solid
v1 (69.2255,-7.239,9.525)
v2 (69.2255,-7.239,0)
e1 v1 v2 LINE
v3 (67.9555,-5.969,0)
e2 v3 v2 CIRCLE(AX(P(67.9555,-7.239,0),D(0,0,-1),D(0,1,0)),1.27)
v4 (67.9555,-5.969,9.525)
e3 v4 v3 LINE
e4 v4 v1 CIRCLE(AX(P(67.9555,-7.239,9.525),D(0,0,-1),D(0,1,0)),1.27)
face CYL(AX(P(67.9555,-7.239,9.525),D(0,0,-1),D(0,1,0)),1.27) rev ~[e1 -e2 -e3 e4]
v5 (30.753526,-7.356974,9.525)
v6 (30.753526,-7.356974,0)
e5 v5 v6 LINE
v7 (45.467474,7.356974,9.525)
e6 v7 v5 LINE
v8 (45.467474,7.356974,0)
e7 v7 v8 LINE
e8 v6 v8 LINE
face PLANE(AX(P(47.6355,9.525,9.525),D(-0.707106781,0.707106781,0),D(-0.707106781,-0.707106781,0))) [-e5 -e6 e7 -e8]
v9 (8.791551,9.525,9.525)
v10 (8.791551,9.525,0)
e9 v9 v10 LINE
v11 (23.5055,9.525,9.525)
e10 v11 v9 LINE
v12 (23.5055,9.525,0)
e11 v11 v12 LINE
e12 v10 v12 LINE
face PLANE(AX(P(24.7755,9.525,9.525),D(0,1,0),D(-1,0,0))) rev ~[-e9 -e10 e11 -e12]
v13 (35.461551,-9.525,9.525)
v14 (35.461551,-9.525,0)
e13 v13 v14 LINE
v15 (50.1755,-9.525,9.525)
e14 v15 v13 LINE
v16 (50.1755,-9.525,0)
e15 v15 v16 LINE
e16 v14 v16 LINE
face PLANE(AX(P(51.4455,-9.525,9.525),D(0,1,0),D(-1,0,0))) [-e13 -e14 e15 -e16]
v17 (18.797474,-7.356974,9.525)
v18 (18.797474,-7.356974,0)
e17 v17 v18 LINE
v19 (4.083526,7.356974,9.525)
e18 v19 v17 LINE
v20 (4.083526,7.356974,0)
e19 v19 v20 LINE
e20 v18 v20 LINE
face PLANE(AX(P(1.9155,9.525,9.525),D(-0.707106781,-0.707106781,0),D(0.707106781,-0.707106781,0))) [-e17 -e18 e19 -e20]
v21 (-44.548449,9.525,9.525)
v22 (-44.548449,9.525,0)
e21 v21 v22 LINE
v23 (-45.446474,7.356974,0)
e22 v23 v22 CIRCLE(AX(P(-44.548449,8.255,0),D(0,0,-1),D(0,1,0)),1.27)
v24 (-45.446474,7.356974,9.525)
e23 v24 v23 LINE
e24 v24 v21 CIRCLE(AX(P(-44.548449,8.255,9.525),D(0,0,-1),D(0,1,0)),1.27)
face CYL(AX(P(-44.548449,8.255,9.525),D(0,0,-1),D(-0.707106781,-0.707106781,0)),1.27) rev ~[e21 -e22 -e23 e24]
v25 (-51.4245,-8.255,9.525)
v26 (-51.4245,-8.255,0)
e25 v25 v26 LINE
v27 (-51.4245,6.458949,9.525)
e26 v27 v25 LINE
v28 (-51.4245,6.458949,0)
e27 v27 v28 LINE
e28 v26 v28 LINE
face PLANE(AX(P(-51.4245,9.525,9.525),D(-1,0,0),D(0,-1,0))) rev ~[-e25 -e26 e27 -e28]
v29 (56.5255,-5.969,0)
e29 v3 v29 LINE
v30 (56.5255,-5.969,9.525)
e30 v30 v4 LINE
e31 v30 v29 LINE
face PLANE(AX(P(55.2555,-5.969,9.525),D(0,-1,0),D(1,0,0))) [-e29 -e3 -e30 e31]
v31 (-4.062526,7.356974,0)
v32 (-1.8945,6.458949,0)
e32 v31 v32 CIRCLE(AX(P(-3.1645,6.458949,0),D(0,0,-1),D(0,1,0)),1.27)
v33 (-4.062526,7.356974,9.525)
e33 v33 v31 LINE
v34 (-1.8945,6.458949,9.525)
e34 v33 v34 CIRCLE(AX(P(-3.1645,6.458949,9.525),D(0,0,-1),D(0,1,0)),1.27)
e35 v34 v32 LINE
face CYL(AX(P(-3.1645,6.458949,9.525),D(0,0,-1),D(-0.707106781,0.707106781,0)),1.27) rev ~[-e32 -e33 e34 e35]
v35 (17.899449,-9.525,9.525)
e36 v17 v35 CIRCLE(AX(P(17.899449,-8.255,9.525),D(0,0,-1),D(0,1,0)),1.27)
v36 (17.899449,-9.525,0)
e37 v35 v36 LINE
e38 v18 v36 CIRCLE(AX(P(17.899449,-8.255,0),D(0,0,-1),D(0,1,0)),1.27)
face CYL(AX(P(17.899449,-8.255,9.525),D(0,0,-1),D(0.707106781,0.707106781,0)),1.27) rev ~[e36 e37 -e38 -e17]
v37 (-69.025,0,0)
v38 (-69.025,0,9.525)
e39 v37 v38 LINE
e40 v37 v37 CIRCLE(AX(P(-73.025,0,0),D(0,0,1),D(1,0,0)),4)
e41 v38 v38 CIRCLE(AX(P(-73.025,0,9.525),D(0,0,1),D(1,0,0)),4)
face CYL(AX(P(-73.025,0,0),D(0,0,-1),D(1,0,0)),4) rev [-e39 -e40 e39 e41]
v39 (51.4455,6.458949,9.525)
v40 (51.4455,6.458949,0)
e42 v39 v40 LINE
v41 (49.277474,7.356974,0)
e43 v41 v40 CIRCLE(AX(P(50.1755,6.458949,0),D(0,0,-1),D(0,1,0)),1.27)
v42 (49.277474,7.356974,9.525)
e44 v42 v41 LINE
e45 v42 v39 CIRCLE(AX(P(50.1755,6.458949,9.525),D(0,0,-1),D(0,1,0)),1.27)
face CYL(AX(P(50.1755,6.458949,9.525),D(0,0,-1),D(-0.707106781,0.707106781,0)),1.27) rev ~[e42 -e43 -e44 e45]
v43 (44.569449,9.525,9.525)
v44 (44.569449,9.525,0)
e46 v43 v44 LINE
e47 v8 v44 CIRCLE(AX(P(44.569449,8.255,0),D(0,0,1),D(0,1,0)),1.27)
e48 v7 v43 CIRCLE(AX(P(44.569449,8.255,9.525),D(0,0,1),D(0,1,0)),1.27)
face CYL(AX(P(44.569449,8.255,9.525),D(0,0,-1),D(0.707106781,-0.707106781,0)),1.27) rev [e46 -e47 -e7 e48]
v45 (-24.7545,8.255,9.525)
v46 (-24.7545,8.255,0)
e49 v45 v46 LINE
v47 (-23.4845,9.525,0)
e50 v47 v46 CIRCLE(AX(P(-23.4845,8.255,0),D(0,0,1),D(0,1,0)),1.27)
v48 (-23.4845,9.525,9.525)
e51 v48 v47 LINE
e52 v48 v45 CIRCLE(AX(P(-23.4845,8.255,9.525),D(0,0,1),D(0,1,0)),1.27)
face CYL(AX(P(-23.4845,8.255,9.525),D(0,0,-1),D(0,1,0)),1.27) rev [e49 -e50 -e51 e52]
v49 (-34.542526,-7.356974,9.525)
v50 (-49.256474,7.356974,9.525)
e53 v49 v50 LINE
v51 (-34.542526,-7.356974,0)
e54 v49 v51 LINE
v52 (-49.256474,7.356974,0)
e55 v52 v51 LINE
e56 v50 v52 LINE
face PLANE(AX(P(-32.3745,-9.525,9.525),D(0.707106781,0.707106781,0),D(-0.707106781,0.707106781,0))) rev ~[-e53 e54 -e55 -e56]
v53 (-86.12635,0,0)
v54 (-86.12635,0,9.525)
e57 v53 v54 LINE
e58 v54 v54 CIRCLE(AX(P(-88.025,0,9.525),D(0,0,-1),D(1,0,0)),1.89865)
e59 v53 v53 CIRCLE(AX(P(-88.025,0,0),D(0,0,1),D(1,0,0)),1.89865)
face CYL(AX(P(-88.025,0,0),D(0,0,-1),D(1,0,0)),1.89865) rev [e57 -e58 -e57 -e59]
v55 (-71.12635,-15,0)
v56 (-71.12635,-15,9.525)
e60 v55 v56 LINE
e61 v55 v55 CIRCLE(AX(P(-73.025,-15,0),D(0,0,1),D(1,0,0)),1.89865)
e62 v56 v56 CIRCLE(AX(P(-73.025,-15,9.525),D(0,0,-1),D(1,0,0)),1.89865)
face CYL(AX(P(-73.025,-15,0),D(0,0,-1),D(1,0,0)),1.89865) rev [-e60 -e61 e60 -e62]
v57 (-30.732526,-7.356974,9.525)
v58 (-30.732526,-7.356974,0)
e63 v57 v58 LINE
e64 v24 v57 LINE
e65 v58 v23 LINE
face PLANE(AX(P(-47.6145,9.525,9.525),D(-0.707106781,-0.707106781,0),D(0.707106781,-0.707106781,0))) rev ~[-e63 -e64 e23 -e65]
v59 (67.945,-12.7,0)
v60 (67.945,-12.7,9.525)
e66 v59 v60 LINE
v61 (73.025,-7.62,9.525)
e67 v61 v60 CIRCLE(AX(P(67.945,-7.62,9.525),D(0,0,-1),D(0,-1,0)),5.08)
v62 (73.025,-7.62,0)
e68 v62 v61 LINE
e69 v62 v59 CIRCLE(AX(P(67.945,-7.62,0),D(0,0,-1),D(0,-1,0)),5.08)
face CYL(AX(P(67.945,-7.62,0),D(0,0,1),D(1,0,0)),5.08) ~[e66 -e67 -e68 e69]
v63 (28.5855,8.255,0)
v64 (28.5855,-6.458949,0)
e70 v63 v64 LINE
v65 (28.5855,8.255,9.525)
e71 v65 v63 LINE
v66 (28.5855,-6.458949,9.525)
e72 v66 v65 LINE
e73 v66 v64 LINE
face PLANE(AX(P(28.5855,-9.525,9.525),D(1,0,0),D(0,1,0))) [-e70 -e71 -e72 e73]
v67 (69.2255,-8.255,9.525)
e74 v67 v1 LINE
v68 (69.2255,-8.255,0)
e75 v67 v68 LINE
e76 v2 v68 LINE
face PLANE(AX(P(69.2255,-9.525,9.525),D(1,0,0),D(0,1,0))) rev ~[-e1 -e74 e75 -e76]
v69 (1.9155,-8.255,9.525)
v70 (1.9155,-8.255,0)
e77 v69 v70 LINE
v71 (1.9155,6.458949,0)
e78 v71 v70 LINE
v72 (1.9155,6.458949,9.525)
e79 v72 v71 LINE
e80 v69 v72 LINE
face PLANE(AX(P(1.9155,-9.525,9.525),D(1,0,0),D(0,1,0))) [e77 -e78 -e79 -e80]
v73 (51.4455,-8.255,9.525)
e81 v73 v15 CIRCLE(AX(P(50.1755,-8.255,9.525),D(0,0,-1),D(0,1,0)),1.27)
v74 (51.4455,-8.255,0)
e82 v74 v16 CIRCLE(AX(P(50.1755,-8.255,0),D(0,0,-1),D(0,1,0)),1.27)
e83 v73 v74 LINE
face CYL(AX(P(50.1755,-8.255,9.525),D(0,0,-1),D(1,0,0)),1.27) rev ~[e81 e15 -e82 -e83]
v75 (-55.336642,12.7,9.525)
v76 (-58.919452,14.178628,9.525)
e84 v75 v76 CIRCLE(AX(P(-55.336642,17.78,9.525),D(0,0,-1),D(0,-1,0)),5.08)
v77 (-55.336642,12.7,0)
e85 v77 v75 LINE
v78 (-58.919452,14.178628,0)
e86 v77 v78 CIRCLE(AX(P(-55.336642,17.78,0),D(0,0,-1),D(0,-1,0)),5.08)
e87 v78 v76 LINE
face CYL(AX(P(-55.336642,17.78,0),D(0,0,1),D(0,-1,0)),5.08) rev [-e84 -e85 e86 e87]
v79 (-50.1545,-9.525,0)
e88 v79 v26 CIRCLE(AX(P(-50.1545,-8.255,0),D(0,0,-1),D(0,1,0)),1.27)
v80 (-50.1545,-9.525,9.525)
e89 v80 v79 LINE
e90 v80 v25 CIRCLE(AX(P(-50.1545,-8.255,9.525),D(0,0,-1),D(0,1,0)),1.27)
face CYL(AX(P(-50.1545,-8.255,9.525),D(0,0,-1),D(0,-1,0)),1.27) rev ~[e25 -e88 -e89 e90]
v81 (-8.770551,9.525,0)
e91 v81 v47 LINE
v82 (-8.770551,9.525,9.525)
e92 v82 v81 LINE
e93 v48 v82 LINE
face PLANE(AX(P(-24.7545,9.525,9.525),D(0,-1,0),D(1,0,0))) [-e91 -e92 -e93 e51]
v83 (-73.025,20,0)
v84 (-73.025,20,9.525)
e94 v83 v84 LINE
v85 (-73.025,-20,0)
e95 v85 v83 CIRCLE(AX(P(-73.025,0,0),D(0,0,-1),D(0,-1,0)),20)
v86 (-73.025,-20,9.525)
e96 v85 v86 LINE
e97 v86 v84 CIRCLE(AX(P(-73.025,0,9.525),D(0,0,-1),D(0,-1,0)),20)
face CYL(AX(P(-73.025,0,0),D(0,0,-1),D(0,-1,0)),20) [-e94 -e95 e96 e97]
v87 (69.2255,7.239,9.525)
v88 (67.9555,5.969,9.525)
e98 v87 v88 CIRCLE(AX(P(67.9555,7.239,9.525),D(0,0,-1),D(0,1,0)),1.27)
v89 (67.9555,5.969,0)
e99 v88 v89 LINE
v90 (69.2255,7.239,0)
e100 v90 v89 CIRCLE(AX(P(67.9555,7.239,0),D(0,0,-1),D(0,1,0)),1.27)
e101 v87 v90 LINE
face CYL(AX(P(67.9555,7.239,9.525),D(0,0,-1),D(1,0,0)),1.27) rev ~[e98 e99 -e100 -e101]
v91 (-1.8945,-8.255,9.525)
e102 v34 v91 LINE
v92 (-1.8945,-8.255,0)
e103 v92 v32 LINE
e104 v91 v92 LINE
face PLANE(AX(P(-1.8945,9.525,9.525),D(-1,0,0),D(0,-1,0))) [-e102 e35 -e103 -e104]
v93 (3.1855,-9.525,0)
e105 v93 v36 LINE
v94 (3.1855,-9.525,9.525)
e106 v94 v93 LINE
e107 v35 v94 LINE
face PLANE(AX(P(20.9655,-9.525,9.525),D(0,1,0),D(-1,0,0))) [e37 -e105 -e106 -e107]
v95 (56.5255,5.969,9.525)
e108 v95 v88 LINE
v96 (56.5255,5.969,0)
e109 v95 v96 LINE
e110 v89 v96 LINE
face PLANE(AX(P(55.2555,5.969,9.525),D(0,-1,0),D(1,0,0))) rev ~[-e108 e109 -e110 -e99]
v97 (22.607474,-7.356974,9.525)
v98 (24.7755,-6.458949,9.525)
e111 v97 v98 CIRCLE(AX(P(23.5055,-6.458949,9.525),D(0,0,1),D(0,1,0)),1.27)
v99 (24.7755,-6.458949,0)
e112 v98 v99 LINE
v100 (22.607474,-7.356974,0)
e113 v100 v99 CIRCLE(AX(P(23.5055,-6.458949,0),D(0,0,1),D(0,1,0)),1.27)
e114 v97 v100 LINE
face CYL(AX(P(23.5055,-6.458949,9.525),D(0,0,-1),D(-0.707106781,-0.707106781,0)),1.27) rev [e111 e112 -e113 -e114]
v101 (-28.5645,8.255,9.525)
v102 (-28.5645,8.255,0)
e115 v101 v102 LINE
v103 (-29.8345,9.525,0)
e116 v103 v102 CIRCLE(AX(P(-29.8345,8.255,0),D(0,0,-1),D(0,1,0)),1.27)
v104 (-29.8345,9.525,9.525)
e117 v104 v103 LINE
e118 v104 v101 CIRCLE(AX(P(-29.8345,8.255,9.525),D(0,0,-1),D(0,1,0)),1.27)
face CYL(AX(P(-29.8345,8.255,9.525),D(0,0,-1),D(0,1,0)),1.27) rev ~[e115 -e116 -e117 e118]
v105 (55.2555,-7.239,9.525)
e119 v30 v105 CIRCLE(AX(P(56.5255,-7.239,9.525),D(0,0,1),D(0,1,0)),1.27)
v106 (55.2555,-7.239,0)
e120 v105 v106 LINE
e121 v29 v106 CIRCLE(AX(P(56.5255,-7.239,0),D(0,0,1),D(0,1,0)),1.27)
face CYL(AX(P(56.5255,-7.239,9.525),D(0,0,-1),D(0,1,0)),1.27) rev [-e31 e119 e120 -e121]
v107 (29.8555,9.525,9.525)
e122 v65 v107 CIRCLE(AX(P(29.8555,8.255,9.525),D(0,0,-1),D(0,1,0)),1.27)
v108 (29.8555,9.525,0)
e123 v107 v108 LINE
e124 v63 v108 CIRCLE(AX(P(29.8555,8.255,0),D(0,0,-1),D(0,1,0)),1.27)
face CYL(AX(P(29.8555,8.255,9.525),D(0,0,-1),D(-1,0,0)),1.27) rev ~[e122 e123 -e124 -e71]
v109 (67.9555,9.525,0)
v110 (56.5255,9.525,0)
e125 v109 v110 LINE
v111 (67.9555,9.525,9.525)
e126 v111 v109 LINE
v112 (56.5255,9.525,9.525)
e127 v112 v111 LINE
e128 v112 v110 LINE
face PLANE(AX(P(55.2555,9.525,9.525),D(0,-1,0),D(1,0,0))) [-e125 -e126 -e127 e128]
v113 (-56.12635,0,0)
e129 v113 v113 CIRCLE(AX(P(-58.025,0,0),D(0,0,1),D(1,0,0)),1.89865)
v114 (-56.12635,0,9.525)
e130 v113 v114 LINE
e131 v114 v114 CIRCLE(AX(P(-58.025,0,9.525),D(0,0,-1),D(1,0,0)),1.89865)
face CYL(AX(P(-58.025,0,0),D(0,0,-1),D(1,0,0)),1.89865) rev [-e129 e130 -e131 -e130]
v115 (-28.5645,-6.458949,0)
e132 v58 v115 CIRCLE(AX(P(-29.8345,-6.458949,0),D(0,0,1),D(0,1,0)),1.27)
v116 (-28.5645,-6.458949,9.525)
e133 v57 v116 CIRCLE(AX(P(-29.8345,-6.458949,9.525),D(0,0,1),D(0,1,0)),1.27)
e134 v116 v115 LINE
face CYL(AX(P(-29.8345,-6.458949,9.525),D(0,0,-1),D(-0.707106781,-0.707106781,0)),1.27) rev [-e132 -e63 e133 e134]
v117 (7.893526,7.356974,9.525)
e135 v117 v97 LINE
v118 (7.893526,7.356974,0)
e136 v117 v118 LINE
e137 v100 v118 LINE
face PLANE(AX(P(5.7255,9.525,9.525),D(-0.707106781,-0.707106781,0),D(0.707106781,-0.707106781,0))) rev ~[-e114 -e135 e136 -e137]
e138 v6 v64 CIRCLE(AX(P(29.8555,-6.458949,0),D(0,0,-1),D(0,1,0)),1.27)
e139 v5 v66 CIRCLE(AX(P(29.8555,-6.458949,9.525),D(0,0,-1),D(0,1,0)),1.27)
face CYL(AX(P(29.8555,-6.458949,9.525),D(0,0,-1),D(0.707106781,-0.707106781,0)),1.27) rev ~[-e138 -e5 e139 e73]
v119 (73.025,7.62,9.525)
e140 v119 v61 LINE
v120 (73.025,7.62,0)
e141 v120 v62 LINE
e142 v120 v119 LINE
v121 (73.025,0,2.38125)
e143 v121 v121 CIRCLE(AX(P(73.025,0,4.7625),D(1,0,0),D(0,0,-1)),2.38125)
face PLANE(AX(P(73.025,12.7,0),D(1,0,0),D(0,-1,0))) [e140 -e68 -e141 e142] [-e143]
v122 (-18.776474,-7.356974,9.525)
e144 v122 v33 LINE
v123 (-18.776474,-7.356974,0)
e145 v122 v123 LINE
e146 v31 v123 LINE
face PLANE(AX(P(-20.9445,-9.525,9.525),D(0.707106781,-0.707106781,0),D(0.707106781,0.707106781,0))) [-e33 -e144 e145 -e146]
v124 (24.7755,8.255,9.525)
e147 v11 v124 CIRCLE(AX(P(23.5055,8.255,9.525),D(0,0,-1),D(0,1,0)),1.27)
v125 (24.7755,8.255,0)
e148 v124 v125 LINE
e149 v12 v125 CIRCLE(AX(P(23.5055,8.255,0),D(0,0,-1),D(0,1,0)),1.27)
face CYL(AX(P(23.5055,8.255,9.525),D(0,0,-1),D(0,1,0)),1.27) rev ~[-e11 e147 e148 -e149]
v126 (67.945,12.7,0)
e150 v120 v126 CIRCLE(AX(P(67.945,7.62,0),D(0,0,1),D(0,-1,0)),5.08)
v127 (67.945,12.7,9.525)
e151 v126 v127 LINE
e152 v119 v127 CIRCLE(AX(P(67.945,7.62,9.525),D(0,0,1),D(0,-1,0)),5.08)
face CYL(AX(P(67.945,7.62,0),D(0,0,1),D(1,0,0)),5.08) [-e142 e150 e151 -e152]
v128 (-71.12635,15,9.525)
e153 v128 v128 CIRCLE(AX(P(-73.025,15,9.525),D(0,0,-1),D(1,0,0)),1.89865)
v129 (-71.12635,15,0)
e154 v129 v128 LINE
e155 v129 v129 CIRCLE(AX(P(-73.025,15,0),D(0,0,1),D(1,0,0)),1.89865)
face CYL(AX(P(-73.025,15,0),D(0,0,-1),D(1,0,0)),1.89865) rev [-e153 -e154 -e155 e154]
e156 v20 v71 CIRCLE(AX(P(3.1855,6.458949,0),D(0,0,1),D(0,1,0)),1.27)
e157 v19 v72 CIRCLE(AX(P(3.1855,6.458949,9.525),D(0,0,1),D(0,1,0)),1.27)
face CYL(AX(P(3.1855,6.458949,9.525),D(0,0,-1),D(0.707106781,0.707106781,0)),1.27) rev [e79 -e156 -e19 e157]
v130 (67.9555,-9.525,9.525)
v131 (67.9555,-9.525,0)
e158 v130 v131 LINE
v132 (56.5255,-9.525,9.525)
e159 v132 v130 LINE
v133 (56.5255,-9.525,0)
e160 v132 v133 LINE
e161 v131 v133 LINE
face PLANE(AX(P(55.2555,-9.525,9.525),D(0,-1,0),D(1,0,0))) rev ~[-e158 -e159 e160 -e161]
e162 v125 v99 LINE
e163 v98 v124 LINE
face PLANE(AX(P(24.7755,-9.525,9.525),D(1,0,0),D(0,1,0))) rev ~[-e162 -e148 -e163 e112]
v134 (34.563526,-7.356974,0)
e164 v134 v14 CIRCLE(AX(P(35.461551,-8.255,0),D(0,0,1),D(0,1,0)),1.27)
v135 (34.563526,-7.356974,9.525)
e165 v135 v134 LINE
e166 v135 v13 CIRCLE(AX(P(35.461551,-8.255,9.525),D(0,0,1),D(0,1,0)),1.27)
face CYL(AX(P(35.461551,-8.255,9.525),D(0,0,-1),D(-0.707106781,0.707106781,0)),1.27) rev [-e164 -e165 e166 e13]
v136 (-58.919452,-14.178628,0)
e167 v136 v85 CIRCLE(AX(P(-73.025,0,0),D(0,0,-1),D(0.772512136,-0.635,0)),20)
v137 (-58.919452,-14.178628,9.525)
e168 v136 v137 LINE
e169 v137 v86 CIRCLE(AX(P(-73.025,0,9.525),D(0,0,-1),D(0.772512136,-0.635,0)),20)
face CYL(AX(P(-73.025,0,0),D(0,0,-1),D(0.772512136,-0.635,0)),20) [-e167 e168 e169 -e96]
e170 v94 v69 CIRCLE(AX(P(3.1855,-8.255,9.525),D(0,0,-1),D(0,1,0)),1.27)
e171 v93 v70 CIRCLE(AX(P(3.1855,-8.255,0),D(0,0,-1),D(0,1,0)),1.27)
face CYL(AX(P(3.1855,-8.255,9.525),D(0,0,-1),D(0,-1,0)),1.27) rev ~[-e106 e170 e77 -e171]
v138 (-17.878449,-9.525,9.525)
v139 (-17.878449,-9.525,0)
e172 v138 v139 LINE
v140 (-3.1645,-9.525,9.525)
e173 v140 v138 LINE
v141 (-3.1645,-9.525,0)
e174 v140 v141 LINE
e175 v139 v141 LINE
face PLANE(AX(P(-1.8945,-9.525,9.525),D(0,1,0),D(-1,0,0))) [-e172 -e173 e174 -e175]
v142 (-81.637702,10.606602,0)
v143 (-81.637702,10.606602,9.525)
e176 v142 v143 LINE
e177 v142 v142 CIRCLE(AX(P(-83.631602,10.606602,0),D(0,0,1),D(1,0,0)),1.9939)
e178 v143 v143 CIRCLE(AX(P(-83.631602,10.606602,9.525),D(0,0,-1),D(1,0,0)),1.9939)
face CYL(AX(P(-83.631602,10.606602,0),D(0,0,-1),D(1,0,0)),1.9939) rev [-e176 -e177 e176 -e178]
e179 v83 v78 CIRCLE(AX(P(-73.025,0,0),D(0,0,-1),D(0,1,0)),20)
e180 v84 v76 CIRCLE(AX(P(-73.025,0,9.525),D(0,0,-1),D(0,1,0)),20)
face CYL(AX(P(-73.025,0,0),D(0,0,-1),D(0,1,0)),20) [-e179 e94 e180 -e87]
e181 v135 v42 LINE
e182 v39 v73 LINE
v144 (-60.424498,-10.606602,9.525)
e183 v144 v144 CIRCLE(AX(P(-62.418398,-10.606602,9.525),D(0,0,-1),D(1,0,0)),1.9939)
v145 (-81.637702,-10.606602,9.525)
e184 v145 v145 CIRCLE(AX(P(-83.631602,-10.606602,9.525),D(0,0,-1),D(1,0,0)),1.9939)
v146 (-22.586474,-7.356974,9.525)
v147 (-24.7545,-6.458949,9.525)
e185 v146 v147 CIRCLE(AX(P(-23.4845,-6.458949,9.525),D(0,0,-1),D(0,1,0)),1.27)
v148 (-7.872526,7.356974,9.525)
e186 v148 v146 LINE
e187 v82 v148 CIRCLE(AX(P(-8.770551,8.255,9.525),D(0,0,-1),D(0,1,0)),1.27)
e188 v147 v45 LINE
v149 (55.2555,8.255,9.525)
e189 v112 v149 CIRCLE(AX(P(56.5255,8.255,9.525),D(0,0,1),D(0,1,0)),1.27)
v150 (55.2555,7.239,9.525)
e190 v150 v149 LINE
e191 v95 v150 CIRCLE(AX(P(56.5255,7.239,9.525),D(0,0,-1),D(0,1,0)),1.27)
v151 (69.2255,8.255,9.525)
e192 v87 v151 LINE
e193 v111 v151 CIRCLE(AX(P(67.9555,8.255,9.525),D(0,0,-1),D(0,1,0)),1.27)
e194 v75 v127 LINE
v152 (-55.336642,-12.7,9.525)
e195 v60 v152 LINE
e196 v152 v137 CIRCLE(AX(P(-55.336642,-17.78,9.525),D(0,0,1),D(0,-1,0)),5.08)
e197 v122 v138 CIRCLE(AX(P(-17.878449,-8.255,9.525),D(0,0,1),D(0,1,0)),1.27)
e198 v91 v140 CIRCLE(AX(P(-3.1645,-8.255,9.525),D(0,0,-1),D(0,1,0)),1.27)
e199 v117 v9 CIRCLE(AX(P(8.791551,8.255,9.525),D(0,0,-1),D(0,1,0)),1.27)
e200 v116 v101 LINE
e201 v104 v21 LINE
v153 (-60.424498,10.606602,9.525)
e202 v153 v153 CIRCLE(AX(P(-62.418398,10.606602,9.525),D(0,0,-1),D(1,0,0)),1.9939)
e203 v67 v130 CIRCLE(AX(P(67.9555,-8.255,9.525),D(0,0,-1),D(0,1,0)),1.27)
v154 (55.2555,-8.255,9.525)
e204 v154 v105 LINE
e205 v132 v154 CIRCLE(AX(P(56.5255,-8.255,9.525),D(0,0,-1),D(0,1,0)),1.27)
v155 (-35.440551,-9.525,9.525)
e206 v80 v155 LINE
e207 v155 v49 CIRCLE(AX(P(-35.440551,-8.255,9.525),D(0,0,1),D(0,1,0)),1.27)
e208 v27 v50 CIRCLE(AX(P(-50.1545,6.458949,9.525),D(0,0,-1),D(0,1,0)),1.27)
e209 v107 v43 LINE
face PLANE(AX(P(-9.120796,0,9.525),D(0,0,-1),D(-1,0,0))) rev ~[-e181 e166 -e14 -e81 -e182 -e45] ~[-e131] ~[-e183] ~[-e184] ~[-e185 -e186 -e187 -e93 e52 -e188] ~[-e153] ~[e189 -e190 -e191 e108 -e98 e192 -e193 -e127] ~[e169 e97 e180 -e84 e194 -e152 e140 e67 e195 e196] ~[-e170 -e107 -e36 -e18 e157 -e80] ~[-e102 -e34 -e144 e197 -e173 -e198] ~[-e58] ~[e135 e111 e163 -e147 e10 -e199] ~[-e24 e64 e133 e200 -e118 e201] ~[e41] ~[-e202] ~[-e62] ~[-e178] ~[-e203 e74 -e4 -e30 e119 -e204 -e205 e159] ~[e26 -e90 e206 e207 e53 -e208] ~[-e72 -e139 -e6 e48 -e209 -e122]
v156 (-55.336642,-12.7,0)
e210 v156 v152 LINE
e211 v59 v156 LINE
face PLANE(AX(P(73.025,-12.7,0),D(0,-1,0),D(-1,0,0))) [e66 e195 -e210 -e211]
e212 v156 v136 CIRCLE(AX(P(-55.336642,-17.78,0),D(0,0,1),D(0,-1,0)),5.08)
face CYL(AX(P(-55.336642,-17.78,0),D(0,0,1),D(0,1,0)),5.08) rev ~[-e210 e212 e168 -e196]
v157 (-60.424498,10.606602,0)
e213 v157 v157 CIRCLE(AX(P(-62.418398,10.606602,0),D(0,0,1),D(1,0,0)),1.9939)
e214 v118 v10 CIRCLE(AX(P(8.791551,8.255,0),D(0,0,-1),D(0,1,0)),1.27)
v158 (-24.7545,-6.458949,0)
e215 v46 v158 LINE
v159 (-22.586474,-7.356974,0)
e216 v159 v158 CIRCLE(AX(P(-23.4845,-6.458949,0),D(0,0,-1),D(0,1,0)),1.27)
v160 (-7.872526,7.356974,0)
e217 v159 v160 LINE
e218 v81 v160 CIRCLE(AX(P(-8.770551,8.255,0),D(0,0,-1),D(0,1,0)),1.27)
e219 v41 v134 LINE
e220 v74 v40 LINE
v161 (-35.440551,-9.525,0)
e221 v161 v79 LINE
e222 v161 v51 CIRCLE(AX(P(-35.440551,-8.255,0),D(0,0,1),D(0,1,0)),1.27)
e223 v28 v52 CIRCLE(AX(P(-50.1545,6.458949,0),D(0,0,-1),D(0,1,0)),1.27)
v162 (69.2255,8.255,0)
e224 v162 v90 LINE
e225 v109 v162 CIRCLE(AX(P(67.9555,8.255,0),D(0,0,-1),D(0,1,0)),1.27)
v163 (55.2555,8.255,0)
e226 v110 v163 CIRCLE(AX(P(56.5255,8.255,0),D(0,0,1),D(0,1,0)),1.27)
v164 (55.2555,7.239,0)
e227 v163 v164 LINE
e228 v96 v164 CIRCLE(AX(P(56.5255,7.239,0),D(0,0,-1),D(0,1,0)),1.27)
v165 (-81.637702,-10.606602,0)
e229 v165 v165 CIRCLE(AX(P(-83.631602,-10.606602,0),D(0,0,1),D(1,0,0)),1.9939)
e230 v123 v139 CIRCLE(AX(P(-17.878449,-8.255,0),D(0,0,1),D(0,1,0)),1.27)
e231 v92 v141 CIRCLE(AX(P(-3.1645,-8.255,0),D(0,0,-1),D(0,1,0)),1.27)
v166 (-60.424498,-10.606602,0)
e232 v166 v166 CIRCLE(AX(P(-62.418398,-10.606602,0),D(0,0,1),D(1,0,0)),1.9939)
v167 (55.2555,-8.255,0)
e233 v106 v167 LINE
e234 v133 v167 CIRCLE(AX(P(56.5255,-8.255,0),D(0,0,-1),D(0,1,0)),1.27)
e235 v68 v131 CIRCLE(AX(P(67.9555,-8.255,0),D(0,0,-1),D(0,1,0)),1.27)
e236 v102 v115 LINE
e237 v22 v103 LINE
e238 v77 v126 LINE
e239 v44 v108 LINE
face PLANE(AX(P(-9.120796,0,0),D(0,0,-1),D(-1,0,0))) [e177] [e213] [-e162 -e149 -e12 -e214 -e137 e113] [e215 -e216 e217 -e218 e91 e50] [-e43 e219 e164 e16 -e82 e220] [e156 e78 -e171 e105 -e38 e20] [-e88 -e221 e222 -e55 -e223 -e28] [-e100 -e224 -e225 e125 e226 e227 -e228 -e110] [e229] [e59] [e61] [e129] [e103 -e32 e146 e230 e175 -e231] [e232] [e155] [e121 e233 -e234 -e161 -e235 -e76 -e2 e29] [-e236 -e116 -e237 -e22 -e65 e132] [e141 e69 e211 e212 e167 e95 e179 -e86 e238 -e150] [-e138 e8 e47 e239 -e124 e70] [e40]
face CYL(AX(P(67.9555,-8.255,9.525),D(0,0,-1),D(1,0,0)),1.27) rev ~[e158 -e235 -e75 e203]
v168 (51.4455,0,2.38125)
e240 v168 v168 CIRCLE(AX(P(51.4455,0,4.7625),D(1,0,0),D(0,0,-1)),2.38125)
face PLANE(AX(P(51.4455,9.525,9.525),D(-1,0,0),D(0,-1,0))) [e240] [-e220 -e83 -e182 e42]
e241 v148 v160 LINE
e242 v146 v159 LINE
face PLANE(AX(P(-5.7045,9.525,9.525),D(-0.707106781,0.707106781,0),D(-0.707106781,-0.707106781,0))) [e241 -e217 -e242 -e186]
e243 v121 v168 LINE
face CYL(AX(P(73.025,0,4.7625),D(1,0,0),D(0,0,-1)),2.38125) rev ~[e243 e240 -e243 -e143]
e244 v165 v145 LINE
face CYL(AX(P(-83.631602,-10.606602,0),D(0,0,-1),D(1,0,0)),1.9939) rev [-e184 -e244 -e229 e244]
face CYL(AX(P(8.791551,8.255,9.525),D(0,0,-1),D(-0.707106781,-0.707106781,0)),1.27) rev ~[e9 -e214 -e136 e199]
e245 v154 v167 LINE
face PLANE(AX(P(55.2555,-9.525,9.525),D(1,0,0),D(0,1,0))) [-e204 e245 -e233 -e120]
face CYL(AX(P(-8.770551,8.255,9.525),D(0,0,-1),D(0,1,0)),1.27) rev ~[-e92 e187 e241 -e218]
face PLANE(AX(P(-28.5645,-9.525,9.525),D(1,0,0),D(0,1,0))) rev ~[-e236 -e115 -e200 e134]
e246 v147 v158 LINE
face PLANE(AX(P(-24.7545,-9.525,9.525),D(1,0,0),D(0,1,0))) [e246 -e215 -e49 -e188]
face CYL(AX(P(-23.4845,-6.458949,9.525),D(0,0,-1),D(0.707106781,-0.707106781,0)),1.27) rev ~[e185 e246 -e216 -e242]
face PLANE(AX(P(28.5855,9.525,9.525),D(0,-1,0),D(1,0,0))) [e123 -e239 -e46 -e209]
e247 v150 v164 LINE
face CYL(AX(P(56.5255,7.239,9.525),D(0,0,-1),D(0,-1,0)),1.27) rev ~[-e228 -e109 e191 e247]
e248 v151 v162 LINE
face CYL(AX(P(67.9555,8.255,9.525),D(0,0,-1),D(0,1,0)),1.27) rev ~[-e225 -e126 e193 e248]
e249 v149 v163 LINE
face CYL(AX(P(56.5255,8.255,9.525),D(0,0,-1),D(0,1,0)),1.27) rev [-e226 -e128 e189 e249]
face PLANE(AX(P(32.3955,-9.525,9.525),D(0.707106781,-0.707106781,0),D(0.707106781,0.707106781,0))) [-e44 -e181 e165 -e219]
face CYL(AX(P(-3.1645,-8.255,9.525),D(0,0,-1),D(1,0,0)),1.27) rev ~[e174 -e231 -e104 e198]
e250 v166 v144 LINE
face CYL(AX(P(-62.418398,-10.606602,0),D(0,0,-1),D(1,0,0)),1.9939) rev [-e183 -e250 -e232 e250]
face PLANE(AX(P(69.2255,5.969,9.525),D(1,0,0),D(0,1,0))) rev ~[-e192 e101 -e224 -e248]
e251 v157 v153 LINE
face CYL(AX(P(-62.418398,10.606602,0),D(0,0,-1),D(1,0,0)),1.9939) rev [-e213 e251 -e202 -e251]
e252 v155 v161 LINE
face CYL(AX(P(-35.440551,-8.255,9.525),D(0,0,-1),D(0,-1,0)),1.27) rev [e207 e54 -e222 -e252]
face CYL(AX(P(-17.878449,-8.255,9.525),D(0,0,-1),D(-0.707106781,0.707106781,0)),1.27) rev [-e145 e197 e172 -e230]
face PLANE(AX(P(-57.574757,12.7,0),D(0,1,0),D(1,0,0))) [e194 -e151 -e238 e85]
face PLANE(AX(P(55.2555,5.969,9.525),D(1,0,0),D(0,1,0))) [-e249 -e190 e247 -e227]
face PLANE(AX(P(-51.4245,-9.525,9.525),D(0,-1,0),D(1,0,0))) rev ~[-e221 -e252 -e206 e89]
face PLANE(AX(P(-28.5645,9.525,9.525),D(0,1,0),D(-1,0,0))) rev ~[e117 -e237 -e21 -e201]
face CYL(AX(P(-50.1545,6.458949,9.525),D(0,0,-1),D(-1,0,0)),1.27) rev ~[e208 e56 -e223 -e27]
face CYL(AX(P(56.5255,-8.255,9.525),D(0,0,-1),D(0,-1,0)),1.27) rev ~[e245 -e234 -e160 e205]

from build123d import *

# Parameters (mm, degrees)
SKETCH1_R           = 4
BOSS_EXTRUDE1_DEPTH = 9.525
SKETCH3_R           = 1.89865
SKETCH3_R_2         = 1.9939
CUT_EXTRUDE2_DEPTH  = 10.525
SKETCH19_W          = 13.97
SKETCH19_H          = 3.556
CUT_EXTRUDE4_DEPTH  = 10.525
CUT_EXTRUDE5_REACH  = 168.05
SKETCH20_R          = 2.38125
FILLET5_R           = 5.08
FILLET6_R           = 5.08
FILLET7_R           = 1.27


with BuildPart() as part:
    # Sketch1 → Boss-Extrude1 (new body)
    with BuildSketch(Plane.XY):
        with BuildLine():
            Line((73.025, 12.7), (73.025, -12.7))
            Line((73.025, -12.7), (-57.574757283, -12.7))
            ThreePointArc((-57.574757283, -12.7), (-64.480996255, -18.08314132), (-73.025, -20))
            ThreePointArc((-73.025, -20), (-93.025, 0), (-73.025, 20))
            ThreePointArc((-73.025, 20), (-64.480996255, 18.08314132), (-57.574757283, 12.7))
            Line((-57.574757283, 12.7), (73.025, 12.7))
        make_face()
        with Locations((-73.025, 0)):
            Circle(SKETCH1_R, mode=Mode.SUBTRACT)
    extrude(amount=BOSS_EXTRUDE1_DEPTH)

    # Sketch3 → Cut-Extrude2 (cut, through all)
    with BuildSketch(Plane.XY):
        with Locations((-73.025, 15)):
            Circle(SKETCH3_R)
        with Locations((-58.025, 0)):
            Circle(SKETCH3_R)
        with Locations((-73.025, -15)):
            Circle(SKETCH3_R)
        with Locations((-88.025, 0)):
            Circle(SKETCH3_R)
        with Locations((-83.631601718, -10.606601718)):
            Circle(SKETCH3_R_2)
        with Locations((-83.631601718, 10.606601718)):
            Circle(SKETCH3_R_2)
        with Locations((-62.418398282, 10.606601718)):
            Circle(SKETCH3_R_2)
        with Locations((-62.418398282, -10.606601718)):
            Circle(SKETCH3_R_2)
    extrude(amount=CUT_EXTRUDE2_DEPTH, mode=Mode.SUBTRACT)

    # Sketch19 → Cut-Extrude4 (cut, through all)
    with BuildSketch(Plane.XY.offset(9.525)):
        Polygon((-51.4245, -9.525), (-32.3745, -9.525), (-51.4245, 9.525), align=None)
        with Locations((62.2405, 7.747)):
            Rectangle(SKETCH19_W, SKETCH19_H)
        Polygon((-47.6145, 9.525), (-28.5645, -9.525), (-28.5645, 9.525), align=None)
        Polygon((-1.8945, -9.525), (-20.9445, -9.525), (-1.8945, 9.525), align=None)
        Polygon((-24.7545, -9.525), (-24.7545, 9.525), (-5.7045, 9.525), align=None)
        Polygon((1.9155, -9.525), (1.9155, 9.525), (20.9655, -9.525), align=None)
        Polygon((5.7255, 9.525), (24.7755, -9.525), (24.7755, 9.525), align=None)
        Polygon((28.5855, 9.525), (47.6355, 9.525), (28.5855, -9.525), align=None)
        Polygon((51.4455, -9.525), (32.3955, -9.525), (51.4455, 9.525), align=None)
        with Locations((62.2405, -7.747)):
            Rectangle(SKETCH19_W, SKETCH19_H)
    extrude(amount=-CUT_EXTRUDE4_DEPTH, mode=Mode.SUBTRACT)

    # Sketch20 → Cut-Extrude5 (cut, up to next)
    with BuildSketch(Plane(origin=(73.025, 0, 0), x_dir=(0, 0, -1), z_dir=(1, 0, 0)), mode=Mode.PRIVATE) as cut_extrude5_sk1:
        with Locations((-4.7625, 0)):
            Circle(SKETCH20_R)
    cut_extrude5_tool1 = extrude(cut_extrude5_sk1.sketch, amount=-CUT_EXTRUDE5_REACH, mode=Mode.PRIVATE) & part.part
    add(cut_extrude5_tool1.solids().sort_by_distance((73.025, 0, 4.7625))[0], mode=Mode.SUBTRACT)

    # Fillet5
    fillet5_edges = [part.edges().sort_by_distance(p)[0] for p in [
        (73.025, 12.7, 4.7625),
        (73.025, -12.7, 4.7625),
    ]]
    fillet(fillet5_edges, radius=FILLET5_R)

    # Fillet6
    fillet6_edges = [part.edges().sort_by_distance(p)[0] for p in [
        (-57.574757283, 12.7, 4.7625),
        (-57.574757283, -12.7, 4.7625),
    ]]
    fillet(fillet6_edges, radius=FILLET6_R)

    # Fillet7
    fillet7_edges = [part.edges().sort_by_distance(p)[0] for p in [
        (51.4455, 9.525, 4.7625),
        (51.4455, -9.525, 4.7625),
        (32.3955, -9.525, 4.7625),
        (69.2255, -9.525, 4.7625),
        (55.2555, -9.525, 4.7625),
        (55.2555, -5.969, 4.7625),
        (69.2255, -5.969, 4.7625),
        (-51.4245, 9.525, 4.7625),
        (-32.3745, -9.525, 4.7625),
        (-51.4245, -9.525, 4.7625),
        (20.9655, -9.525, 4.7625),
        (1.9155, -9.525, 4.7625),
        (1.9155, 9.525, 4.7625),
        (-5.7045, 9.525, 4.7625),
        (-24.7545, -9.525, 4.7625),
        (-24.7545, 9.525, 4.7625),
        (-1.8945, 9.525, 4.7625),
        (-1.8945, -9.525, 4.7625),
        (-20.9445, -9.525, 4.7625),
        (55.2555, 5.969, 4.7625),
        (55.2555, 9.525, 4.7625),
        (69.2255, 9.525, 4.7625),
        (69.2255, 5.969, 4.7625),
        (-47.6145, 9.525, 4.7625),
        (-28.5645, 9.525, 4.7625),
        (-28.5645, -9.525, 4.7625),
        (5.7255, 9.525, 4.7625),
        (24.7755, 9.525, 4.7625),
        (24.7755, -9.525, 4.7625),
        (28.5855, -9.525, 4.7625),
        (28.5855, 9.525, 4.7625),
        (47.6355, 9.525, 4.7625),
    ]]
    fillet(fillet7_edges, radius=FILLET7_R)


solid = part.part
